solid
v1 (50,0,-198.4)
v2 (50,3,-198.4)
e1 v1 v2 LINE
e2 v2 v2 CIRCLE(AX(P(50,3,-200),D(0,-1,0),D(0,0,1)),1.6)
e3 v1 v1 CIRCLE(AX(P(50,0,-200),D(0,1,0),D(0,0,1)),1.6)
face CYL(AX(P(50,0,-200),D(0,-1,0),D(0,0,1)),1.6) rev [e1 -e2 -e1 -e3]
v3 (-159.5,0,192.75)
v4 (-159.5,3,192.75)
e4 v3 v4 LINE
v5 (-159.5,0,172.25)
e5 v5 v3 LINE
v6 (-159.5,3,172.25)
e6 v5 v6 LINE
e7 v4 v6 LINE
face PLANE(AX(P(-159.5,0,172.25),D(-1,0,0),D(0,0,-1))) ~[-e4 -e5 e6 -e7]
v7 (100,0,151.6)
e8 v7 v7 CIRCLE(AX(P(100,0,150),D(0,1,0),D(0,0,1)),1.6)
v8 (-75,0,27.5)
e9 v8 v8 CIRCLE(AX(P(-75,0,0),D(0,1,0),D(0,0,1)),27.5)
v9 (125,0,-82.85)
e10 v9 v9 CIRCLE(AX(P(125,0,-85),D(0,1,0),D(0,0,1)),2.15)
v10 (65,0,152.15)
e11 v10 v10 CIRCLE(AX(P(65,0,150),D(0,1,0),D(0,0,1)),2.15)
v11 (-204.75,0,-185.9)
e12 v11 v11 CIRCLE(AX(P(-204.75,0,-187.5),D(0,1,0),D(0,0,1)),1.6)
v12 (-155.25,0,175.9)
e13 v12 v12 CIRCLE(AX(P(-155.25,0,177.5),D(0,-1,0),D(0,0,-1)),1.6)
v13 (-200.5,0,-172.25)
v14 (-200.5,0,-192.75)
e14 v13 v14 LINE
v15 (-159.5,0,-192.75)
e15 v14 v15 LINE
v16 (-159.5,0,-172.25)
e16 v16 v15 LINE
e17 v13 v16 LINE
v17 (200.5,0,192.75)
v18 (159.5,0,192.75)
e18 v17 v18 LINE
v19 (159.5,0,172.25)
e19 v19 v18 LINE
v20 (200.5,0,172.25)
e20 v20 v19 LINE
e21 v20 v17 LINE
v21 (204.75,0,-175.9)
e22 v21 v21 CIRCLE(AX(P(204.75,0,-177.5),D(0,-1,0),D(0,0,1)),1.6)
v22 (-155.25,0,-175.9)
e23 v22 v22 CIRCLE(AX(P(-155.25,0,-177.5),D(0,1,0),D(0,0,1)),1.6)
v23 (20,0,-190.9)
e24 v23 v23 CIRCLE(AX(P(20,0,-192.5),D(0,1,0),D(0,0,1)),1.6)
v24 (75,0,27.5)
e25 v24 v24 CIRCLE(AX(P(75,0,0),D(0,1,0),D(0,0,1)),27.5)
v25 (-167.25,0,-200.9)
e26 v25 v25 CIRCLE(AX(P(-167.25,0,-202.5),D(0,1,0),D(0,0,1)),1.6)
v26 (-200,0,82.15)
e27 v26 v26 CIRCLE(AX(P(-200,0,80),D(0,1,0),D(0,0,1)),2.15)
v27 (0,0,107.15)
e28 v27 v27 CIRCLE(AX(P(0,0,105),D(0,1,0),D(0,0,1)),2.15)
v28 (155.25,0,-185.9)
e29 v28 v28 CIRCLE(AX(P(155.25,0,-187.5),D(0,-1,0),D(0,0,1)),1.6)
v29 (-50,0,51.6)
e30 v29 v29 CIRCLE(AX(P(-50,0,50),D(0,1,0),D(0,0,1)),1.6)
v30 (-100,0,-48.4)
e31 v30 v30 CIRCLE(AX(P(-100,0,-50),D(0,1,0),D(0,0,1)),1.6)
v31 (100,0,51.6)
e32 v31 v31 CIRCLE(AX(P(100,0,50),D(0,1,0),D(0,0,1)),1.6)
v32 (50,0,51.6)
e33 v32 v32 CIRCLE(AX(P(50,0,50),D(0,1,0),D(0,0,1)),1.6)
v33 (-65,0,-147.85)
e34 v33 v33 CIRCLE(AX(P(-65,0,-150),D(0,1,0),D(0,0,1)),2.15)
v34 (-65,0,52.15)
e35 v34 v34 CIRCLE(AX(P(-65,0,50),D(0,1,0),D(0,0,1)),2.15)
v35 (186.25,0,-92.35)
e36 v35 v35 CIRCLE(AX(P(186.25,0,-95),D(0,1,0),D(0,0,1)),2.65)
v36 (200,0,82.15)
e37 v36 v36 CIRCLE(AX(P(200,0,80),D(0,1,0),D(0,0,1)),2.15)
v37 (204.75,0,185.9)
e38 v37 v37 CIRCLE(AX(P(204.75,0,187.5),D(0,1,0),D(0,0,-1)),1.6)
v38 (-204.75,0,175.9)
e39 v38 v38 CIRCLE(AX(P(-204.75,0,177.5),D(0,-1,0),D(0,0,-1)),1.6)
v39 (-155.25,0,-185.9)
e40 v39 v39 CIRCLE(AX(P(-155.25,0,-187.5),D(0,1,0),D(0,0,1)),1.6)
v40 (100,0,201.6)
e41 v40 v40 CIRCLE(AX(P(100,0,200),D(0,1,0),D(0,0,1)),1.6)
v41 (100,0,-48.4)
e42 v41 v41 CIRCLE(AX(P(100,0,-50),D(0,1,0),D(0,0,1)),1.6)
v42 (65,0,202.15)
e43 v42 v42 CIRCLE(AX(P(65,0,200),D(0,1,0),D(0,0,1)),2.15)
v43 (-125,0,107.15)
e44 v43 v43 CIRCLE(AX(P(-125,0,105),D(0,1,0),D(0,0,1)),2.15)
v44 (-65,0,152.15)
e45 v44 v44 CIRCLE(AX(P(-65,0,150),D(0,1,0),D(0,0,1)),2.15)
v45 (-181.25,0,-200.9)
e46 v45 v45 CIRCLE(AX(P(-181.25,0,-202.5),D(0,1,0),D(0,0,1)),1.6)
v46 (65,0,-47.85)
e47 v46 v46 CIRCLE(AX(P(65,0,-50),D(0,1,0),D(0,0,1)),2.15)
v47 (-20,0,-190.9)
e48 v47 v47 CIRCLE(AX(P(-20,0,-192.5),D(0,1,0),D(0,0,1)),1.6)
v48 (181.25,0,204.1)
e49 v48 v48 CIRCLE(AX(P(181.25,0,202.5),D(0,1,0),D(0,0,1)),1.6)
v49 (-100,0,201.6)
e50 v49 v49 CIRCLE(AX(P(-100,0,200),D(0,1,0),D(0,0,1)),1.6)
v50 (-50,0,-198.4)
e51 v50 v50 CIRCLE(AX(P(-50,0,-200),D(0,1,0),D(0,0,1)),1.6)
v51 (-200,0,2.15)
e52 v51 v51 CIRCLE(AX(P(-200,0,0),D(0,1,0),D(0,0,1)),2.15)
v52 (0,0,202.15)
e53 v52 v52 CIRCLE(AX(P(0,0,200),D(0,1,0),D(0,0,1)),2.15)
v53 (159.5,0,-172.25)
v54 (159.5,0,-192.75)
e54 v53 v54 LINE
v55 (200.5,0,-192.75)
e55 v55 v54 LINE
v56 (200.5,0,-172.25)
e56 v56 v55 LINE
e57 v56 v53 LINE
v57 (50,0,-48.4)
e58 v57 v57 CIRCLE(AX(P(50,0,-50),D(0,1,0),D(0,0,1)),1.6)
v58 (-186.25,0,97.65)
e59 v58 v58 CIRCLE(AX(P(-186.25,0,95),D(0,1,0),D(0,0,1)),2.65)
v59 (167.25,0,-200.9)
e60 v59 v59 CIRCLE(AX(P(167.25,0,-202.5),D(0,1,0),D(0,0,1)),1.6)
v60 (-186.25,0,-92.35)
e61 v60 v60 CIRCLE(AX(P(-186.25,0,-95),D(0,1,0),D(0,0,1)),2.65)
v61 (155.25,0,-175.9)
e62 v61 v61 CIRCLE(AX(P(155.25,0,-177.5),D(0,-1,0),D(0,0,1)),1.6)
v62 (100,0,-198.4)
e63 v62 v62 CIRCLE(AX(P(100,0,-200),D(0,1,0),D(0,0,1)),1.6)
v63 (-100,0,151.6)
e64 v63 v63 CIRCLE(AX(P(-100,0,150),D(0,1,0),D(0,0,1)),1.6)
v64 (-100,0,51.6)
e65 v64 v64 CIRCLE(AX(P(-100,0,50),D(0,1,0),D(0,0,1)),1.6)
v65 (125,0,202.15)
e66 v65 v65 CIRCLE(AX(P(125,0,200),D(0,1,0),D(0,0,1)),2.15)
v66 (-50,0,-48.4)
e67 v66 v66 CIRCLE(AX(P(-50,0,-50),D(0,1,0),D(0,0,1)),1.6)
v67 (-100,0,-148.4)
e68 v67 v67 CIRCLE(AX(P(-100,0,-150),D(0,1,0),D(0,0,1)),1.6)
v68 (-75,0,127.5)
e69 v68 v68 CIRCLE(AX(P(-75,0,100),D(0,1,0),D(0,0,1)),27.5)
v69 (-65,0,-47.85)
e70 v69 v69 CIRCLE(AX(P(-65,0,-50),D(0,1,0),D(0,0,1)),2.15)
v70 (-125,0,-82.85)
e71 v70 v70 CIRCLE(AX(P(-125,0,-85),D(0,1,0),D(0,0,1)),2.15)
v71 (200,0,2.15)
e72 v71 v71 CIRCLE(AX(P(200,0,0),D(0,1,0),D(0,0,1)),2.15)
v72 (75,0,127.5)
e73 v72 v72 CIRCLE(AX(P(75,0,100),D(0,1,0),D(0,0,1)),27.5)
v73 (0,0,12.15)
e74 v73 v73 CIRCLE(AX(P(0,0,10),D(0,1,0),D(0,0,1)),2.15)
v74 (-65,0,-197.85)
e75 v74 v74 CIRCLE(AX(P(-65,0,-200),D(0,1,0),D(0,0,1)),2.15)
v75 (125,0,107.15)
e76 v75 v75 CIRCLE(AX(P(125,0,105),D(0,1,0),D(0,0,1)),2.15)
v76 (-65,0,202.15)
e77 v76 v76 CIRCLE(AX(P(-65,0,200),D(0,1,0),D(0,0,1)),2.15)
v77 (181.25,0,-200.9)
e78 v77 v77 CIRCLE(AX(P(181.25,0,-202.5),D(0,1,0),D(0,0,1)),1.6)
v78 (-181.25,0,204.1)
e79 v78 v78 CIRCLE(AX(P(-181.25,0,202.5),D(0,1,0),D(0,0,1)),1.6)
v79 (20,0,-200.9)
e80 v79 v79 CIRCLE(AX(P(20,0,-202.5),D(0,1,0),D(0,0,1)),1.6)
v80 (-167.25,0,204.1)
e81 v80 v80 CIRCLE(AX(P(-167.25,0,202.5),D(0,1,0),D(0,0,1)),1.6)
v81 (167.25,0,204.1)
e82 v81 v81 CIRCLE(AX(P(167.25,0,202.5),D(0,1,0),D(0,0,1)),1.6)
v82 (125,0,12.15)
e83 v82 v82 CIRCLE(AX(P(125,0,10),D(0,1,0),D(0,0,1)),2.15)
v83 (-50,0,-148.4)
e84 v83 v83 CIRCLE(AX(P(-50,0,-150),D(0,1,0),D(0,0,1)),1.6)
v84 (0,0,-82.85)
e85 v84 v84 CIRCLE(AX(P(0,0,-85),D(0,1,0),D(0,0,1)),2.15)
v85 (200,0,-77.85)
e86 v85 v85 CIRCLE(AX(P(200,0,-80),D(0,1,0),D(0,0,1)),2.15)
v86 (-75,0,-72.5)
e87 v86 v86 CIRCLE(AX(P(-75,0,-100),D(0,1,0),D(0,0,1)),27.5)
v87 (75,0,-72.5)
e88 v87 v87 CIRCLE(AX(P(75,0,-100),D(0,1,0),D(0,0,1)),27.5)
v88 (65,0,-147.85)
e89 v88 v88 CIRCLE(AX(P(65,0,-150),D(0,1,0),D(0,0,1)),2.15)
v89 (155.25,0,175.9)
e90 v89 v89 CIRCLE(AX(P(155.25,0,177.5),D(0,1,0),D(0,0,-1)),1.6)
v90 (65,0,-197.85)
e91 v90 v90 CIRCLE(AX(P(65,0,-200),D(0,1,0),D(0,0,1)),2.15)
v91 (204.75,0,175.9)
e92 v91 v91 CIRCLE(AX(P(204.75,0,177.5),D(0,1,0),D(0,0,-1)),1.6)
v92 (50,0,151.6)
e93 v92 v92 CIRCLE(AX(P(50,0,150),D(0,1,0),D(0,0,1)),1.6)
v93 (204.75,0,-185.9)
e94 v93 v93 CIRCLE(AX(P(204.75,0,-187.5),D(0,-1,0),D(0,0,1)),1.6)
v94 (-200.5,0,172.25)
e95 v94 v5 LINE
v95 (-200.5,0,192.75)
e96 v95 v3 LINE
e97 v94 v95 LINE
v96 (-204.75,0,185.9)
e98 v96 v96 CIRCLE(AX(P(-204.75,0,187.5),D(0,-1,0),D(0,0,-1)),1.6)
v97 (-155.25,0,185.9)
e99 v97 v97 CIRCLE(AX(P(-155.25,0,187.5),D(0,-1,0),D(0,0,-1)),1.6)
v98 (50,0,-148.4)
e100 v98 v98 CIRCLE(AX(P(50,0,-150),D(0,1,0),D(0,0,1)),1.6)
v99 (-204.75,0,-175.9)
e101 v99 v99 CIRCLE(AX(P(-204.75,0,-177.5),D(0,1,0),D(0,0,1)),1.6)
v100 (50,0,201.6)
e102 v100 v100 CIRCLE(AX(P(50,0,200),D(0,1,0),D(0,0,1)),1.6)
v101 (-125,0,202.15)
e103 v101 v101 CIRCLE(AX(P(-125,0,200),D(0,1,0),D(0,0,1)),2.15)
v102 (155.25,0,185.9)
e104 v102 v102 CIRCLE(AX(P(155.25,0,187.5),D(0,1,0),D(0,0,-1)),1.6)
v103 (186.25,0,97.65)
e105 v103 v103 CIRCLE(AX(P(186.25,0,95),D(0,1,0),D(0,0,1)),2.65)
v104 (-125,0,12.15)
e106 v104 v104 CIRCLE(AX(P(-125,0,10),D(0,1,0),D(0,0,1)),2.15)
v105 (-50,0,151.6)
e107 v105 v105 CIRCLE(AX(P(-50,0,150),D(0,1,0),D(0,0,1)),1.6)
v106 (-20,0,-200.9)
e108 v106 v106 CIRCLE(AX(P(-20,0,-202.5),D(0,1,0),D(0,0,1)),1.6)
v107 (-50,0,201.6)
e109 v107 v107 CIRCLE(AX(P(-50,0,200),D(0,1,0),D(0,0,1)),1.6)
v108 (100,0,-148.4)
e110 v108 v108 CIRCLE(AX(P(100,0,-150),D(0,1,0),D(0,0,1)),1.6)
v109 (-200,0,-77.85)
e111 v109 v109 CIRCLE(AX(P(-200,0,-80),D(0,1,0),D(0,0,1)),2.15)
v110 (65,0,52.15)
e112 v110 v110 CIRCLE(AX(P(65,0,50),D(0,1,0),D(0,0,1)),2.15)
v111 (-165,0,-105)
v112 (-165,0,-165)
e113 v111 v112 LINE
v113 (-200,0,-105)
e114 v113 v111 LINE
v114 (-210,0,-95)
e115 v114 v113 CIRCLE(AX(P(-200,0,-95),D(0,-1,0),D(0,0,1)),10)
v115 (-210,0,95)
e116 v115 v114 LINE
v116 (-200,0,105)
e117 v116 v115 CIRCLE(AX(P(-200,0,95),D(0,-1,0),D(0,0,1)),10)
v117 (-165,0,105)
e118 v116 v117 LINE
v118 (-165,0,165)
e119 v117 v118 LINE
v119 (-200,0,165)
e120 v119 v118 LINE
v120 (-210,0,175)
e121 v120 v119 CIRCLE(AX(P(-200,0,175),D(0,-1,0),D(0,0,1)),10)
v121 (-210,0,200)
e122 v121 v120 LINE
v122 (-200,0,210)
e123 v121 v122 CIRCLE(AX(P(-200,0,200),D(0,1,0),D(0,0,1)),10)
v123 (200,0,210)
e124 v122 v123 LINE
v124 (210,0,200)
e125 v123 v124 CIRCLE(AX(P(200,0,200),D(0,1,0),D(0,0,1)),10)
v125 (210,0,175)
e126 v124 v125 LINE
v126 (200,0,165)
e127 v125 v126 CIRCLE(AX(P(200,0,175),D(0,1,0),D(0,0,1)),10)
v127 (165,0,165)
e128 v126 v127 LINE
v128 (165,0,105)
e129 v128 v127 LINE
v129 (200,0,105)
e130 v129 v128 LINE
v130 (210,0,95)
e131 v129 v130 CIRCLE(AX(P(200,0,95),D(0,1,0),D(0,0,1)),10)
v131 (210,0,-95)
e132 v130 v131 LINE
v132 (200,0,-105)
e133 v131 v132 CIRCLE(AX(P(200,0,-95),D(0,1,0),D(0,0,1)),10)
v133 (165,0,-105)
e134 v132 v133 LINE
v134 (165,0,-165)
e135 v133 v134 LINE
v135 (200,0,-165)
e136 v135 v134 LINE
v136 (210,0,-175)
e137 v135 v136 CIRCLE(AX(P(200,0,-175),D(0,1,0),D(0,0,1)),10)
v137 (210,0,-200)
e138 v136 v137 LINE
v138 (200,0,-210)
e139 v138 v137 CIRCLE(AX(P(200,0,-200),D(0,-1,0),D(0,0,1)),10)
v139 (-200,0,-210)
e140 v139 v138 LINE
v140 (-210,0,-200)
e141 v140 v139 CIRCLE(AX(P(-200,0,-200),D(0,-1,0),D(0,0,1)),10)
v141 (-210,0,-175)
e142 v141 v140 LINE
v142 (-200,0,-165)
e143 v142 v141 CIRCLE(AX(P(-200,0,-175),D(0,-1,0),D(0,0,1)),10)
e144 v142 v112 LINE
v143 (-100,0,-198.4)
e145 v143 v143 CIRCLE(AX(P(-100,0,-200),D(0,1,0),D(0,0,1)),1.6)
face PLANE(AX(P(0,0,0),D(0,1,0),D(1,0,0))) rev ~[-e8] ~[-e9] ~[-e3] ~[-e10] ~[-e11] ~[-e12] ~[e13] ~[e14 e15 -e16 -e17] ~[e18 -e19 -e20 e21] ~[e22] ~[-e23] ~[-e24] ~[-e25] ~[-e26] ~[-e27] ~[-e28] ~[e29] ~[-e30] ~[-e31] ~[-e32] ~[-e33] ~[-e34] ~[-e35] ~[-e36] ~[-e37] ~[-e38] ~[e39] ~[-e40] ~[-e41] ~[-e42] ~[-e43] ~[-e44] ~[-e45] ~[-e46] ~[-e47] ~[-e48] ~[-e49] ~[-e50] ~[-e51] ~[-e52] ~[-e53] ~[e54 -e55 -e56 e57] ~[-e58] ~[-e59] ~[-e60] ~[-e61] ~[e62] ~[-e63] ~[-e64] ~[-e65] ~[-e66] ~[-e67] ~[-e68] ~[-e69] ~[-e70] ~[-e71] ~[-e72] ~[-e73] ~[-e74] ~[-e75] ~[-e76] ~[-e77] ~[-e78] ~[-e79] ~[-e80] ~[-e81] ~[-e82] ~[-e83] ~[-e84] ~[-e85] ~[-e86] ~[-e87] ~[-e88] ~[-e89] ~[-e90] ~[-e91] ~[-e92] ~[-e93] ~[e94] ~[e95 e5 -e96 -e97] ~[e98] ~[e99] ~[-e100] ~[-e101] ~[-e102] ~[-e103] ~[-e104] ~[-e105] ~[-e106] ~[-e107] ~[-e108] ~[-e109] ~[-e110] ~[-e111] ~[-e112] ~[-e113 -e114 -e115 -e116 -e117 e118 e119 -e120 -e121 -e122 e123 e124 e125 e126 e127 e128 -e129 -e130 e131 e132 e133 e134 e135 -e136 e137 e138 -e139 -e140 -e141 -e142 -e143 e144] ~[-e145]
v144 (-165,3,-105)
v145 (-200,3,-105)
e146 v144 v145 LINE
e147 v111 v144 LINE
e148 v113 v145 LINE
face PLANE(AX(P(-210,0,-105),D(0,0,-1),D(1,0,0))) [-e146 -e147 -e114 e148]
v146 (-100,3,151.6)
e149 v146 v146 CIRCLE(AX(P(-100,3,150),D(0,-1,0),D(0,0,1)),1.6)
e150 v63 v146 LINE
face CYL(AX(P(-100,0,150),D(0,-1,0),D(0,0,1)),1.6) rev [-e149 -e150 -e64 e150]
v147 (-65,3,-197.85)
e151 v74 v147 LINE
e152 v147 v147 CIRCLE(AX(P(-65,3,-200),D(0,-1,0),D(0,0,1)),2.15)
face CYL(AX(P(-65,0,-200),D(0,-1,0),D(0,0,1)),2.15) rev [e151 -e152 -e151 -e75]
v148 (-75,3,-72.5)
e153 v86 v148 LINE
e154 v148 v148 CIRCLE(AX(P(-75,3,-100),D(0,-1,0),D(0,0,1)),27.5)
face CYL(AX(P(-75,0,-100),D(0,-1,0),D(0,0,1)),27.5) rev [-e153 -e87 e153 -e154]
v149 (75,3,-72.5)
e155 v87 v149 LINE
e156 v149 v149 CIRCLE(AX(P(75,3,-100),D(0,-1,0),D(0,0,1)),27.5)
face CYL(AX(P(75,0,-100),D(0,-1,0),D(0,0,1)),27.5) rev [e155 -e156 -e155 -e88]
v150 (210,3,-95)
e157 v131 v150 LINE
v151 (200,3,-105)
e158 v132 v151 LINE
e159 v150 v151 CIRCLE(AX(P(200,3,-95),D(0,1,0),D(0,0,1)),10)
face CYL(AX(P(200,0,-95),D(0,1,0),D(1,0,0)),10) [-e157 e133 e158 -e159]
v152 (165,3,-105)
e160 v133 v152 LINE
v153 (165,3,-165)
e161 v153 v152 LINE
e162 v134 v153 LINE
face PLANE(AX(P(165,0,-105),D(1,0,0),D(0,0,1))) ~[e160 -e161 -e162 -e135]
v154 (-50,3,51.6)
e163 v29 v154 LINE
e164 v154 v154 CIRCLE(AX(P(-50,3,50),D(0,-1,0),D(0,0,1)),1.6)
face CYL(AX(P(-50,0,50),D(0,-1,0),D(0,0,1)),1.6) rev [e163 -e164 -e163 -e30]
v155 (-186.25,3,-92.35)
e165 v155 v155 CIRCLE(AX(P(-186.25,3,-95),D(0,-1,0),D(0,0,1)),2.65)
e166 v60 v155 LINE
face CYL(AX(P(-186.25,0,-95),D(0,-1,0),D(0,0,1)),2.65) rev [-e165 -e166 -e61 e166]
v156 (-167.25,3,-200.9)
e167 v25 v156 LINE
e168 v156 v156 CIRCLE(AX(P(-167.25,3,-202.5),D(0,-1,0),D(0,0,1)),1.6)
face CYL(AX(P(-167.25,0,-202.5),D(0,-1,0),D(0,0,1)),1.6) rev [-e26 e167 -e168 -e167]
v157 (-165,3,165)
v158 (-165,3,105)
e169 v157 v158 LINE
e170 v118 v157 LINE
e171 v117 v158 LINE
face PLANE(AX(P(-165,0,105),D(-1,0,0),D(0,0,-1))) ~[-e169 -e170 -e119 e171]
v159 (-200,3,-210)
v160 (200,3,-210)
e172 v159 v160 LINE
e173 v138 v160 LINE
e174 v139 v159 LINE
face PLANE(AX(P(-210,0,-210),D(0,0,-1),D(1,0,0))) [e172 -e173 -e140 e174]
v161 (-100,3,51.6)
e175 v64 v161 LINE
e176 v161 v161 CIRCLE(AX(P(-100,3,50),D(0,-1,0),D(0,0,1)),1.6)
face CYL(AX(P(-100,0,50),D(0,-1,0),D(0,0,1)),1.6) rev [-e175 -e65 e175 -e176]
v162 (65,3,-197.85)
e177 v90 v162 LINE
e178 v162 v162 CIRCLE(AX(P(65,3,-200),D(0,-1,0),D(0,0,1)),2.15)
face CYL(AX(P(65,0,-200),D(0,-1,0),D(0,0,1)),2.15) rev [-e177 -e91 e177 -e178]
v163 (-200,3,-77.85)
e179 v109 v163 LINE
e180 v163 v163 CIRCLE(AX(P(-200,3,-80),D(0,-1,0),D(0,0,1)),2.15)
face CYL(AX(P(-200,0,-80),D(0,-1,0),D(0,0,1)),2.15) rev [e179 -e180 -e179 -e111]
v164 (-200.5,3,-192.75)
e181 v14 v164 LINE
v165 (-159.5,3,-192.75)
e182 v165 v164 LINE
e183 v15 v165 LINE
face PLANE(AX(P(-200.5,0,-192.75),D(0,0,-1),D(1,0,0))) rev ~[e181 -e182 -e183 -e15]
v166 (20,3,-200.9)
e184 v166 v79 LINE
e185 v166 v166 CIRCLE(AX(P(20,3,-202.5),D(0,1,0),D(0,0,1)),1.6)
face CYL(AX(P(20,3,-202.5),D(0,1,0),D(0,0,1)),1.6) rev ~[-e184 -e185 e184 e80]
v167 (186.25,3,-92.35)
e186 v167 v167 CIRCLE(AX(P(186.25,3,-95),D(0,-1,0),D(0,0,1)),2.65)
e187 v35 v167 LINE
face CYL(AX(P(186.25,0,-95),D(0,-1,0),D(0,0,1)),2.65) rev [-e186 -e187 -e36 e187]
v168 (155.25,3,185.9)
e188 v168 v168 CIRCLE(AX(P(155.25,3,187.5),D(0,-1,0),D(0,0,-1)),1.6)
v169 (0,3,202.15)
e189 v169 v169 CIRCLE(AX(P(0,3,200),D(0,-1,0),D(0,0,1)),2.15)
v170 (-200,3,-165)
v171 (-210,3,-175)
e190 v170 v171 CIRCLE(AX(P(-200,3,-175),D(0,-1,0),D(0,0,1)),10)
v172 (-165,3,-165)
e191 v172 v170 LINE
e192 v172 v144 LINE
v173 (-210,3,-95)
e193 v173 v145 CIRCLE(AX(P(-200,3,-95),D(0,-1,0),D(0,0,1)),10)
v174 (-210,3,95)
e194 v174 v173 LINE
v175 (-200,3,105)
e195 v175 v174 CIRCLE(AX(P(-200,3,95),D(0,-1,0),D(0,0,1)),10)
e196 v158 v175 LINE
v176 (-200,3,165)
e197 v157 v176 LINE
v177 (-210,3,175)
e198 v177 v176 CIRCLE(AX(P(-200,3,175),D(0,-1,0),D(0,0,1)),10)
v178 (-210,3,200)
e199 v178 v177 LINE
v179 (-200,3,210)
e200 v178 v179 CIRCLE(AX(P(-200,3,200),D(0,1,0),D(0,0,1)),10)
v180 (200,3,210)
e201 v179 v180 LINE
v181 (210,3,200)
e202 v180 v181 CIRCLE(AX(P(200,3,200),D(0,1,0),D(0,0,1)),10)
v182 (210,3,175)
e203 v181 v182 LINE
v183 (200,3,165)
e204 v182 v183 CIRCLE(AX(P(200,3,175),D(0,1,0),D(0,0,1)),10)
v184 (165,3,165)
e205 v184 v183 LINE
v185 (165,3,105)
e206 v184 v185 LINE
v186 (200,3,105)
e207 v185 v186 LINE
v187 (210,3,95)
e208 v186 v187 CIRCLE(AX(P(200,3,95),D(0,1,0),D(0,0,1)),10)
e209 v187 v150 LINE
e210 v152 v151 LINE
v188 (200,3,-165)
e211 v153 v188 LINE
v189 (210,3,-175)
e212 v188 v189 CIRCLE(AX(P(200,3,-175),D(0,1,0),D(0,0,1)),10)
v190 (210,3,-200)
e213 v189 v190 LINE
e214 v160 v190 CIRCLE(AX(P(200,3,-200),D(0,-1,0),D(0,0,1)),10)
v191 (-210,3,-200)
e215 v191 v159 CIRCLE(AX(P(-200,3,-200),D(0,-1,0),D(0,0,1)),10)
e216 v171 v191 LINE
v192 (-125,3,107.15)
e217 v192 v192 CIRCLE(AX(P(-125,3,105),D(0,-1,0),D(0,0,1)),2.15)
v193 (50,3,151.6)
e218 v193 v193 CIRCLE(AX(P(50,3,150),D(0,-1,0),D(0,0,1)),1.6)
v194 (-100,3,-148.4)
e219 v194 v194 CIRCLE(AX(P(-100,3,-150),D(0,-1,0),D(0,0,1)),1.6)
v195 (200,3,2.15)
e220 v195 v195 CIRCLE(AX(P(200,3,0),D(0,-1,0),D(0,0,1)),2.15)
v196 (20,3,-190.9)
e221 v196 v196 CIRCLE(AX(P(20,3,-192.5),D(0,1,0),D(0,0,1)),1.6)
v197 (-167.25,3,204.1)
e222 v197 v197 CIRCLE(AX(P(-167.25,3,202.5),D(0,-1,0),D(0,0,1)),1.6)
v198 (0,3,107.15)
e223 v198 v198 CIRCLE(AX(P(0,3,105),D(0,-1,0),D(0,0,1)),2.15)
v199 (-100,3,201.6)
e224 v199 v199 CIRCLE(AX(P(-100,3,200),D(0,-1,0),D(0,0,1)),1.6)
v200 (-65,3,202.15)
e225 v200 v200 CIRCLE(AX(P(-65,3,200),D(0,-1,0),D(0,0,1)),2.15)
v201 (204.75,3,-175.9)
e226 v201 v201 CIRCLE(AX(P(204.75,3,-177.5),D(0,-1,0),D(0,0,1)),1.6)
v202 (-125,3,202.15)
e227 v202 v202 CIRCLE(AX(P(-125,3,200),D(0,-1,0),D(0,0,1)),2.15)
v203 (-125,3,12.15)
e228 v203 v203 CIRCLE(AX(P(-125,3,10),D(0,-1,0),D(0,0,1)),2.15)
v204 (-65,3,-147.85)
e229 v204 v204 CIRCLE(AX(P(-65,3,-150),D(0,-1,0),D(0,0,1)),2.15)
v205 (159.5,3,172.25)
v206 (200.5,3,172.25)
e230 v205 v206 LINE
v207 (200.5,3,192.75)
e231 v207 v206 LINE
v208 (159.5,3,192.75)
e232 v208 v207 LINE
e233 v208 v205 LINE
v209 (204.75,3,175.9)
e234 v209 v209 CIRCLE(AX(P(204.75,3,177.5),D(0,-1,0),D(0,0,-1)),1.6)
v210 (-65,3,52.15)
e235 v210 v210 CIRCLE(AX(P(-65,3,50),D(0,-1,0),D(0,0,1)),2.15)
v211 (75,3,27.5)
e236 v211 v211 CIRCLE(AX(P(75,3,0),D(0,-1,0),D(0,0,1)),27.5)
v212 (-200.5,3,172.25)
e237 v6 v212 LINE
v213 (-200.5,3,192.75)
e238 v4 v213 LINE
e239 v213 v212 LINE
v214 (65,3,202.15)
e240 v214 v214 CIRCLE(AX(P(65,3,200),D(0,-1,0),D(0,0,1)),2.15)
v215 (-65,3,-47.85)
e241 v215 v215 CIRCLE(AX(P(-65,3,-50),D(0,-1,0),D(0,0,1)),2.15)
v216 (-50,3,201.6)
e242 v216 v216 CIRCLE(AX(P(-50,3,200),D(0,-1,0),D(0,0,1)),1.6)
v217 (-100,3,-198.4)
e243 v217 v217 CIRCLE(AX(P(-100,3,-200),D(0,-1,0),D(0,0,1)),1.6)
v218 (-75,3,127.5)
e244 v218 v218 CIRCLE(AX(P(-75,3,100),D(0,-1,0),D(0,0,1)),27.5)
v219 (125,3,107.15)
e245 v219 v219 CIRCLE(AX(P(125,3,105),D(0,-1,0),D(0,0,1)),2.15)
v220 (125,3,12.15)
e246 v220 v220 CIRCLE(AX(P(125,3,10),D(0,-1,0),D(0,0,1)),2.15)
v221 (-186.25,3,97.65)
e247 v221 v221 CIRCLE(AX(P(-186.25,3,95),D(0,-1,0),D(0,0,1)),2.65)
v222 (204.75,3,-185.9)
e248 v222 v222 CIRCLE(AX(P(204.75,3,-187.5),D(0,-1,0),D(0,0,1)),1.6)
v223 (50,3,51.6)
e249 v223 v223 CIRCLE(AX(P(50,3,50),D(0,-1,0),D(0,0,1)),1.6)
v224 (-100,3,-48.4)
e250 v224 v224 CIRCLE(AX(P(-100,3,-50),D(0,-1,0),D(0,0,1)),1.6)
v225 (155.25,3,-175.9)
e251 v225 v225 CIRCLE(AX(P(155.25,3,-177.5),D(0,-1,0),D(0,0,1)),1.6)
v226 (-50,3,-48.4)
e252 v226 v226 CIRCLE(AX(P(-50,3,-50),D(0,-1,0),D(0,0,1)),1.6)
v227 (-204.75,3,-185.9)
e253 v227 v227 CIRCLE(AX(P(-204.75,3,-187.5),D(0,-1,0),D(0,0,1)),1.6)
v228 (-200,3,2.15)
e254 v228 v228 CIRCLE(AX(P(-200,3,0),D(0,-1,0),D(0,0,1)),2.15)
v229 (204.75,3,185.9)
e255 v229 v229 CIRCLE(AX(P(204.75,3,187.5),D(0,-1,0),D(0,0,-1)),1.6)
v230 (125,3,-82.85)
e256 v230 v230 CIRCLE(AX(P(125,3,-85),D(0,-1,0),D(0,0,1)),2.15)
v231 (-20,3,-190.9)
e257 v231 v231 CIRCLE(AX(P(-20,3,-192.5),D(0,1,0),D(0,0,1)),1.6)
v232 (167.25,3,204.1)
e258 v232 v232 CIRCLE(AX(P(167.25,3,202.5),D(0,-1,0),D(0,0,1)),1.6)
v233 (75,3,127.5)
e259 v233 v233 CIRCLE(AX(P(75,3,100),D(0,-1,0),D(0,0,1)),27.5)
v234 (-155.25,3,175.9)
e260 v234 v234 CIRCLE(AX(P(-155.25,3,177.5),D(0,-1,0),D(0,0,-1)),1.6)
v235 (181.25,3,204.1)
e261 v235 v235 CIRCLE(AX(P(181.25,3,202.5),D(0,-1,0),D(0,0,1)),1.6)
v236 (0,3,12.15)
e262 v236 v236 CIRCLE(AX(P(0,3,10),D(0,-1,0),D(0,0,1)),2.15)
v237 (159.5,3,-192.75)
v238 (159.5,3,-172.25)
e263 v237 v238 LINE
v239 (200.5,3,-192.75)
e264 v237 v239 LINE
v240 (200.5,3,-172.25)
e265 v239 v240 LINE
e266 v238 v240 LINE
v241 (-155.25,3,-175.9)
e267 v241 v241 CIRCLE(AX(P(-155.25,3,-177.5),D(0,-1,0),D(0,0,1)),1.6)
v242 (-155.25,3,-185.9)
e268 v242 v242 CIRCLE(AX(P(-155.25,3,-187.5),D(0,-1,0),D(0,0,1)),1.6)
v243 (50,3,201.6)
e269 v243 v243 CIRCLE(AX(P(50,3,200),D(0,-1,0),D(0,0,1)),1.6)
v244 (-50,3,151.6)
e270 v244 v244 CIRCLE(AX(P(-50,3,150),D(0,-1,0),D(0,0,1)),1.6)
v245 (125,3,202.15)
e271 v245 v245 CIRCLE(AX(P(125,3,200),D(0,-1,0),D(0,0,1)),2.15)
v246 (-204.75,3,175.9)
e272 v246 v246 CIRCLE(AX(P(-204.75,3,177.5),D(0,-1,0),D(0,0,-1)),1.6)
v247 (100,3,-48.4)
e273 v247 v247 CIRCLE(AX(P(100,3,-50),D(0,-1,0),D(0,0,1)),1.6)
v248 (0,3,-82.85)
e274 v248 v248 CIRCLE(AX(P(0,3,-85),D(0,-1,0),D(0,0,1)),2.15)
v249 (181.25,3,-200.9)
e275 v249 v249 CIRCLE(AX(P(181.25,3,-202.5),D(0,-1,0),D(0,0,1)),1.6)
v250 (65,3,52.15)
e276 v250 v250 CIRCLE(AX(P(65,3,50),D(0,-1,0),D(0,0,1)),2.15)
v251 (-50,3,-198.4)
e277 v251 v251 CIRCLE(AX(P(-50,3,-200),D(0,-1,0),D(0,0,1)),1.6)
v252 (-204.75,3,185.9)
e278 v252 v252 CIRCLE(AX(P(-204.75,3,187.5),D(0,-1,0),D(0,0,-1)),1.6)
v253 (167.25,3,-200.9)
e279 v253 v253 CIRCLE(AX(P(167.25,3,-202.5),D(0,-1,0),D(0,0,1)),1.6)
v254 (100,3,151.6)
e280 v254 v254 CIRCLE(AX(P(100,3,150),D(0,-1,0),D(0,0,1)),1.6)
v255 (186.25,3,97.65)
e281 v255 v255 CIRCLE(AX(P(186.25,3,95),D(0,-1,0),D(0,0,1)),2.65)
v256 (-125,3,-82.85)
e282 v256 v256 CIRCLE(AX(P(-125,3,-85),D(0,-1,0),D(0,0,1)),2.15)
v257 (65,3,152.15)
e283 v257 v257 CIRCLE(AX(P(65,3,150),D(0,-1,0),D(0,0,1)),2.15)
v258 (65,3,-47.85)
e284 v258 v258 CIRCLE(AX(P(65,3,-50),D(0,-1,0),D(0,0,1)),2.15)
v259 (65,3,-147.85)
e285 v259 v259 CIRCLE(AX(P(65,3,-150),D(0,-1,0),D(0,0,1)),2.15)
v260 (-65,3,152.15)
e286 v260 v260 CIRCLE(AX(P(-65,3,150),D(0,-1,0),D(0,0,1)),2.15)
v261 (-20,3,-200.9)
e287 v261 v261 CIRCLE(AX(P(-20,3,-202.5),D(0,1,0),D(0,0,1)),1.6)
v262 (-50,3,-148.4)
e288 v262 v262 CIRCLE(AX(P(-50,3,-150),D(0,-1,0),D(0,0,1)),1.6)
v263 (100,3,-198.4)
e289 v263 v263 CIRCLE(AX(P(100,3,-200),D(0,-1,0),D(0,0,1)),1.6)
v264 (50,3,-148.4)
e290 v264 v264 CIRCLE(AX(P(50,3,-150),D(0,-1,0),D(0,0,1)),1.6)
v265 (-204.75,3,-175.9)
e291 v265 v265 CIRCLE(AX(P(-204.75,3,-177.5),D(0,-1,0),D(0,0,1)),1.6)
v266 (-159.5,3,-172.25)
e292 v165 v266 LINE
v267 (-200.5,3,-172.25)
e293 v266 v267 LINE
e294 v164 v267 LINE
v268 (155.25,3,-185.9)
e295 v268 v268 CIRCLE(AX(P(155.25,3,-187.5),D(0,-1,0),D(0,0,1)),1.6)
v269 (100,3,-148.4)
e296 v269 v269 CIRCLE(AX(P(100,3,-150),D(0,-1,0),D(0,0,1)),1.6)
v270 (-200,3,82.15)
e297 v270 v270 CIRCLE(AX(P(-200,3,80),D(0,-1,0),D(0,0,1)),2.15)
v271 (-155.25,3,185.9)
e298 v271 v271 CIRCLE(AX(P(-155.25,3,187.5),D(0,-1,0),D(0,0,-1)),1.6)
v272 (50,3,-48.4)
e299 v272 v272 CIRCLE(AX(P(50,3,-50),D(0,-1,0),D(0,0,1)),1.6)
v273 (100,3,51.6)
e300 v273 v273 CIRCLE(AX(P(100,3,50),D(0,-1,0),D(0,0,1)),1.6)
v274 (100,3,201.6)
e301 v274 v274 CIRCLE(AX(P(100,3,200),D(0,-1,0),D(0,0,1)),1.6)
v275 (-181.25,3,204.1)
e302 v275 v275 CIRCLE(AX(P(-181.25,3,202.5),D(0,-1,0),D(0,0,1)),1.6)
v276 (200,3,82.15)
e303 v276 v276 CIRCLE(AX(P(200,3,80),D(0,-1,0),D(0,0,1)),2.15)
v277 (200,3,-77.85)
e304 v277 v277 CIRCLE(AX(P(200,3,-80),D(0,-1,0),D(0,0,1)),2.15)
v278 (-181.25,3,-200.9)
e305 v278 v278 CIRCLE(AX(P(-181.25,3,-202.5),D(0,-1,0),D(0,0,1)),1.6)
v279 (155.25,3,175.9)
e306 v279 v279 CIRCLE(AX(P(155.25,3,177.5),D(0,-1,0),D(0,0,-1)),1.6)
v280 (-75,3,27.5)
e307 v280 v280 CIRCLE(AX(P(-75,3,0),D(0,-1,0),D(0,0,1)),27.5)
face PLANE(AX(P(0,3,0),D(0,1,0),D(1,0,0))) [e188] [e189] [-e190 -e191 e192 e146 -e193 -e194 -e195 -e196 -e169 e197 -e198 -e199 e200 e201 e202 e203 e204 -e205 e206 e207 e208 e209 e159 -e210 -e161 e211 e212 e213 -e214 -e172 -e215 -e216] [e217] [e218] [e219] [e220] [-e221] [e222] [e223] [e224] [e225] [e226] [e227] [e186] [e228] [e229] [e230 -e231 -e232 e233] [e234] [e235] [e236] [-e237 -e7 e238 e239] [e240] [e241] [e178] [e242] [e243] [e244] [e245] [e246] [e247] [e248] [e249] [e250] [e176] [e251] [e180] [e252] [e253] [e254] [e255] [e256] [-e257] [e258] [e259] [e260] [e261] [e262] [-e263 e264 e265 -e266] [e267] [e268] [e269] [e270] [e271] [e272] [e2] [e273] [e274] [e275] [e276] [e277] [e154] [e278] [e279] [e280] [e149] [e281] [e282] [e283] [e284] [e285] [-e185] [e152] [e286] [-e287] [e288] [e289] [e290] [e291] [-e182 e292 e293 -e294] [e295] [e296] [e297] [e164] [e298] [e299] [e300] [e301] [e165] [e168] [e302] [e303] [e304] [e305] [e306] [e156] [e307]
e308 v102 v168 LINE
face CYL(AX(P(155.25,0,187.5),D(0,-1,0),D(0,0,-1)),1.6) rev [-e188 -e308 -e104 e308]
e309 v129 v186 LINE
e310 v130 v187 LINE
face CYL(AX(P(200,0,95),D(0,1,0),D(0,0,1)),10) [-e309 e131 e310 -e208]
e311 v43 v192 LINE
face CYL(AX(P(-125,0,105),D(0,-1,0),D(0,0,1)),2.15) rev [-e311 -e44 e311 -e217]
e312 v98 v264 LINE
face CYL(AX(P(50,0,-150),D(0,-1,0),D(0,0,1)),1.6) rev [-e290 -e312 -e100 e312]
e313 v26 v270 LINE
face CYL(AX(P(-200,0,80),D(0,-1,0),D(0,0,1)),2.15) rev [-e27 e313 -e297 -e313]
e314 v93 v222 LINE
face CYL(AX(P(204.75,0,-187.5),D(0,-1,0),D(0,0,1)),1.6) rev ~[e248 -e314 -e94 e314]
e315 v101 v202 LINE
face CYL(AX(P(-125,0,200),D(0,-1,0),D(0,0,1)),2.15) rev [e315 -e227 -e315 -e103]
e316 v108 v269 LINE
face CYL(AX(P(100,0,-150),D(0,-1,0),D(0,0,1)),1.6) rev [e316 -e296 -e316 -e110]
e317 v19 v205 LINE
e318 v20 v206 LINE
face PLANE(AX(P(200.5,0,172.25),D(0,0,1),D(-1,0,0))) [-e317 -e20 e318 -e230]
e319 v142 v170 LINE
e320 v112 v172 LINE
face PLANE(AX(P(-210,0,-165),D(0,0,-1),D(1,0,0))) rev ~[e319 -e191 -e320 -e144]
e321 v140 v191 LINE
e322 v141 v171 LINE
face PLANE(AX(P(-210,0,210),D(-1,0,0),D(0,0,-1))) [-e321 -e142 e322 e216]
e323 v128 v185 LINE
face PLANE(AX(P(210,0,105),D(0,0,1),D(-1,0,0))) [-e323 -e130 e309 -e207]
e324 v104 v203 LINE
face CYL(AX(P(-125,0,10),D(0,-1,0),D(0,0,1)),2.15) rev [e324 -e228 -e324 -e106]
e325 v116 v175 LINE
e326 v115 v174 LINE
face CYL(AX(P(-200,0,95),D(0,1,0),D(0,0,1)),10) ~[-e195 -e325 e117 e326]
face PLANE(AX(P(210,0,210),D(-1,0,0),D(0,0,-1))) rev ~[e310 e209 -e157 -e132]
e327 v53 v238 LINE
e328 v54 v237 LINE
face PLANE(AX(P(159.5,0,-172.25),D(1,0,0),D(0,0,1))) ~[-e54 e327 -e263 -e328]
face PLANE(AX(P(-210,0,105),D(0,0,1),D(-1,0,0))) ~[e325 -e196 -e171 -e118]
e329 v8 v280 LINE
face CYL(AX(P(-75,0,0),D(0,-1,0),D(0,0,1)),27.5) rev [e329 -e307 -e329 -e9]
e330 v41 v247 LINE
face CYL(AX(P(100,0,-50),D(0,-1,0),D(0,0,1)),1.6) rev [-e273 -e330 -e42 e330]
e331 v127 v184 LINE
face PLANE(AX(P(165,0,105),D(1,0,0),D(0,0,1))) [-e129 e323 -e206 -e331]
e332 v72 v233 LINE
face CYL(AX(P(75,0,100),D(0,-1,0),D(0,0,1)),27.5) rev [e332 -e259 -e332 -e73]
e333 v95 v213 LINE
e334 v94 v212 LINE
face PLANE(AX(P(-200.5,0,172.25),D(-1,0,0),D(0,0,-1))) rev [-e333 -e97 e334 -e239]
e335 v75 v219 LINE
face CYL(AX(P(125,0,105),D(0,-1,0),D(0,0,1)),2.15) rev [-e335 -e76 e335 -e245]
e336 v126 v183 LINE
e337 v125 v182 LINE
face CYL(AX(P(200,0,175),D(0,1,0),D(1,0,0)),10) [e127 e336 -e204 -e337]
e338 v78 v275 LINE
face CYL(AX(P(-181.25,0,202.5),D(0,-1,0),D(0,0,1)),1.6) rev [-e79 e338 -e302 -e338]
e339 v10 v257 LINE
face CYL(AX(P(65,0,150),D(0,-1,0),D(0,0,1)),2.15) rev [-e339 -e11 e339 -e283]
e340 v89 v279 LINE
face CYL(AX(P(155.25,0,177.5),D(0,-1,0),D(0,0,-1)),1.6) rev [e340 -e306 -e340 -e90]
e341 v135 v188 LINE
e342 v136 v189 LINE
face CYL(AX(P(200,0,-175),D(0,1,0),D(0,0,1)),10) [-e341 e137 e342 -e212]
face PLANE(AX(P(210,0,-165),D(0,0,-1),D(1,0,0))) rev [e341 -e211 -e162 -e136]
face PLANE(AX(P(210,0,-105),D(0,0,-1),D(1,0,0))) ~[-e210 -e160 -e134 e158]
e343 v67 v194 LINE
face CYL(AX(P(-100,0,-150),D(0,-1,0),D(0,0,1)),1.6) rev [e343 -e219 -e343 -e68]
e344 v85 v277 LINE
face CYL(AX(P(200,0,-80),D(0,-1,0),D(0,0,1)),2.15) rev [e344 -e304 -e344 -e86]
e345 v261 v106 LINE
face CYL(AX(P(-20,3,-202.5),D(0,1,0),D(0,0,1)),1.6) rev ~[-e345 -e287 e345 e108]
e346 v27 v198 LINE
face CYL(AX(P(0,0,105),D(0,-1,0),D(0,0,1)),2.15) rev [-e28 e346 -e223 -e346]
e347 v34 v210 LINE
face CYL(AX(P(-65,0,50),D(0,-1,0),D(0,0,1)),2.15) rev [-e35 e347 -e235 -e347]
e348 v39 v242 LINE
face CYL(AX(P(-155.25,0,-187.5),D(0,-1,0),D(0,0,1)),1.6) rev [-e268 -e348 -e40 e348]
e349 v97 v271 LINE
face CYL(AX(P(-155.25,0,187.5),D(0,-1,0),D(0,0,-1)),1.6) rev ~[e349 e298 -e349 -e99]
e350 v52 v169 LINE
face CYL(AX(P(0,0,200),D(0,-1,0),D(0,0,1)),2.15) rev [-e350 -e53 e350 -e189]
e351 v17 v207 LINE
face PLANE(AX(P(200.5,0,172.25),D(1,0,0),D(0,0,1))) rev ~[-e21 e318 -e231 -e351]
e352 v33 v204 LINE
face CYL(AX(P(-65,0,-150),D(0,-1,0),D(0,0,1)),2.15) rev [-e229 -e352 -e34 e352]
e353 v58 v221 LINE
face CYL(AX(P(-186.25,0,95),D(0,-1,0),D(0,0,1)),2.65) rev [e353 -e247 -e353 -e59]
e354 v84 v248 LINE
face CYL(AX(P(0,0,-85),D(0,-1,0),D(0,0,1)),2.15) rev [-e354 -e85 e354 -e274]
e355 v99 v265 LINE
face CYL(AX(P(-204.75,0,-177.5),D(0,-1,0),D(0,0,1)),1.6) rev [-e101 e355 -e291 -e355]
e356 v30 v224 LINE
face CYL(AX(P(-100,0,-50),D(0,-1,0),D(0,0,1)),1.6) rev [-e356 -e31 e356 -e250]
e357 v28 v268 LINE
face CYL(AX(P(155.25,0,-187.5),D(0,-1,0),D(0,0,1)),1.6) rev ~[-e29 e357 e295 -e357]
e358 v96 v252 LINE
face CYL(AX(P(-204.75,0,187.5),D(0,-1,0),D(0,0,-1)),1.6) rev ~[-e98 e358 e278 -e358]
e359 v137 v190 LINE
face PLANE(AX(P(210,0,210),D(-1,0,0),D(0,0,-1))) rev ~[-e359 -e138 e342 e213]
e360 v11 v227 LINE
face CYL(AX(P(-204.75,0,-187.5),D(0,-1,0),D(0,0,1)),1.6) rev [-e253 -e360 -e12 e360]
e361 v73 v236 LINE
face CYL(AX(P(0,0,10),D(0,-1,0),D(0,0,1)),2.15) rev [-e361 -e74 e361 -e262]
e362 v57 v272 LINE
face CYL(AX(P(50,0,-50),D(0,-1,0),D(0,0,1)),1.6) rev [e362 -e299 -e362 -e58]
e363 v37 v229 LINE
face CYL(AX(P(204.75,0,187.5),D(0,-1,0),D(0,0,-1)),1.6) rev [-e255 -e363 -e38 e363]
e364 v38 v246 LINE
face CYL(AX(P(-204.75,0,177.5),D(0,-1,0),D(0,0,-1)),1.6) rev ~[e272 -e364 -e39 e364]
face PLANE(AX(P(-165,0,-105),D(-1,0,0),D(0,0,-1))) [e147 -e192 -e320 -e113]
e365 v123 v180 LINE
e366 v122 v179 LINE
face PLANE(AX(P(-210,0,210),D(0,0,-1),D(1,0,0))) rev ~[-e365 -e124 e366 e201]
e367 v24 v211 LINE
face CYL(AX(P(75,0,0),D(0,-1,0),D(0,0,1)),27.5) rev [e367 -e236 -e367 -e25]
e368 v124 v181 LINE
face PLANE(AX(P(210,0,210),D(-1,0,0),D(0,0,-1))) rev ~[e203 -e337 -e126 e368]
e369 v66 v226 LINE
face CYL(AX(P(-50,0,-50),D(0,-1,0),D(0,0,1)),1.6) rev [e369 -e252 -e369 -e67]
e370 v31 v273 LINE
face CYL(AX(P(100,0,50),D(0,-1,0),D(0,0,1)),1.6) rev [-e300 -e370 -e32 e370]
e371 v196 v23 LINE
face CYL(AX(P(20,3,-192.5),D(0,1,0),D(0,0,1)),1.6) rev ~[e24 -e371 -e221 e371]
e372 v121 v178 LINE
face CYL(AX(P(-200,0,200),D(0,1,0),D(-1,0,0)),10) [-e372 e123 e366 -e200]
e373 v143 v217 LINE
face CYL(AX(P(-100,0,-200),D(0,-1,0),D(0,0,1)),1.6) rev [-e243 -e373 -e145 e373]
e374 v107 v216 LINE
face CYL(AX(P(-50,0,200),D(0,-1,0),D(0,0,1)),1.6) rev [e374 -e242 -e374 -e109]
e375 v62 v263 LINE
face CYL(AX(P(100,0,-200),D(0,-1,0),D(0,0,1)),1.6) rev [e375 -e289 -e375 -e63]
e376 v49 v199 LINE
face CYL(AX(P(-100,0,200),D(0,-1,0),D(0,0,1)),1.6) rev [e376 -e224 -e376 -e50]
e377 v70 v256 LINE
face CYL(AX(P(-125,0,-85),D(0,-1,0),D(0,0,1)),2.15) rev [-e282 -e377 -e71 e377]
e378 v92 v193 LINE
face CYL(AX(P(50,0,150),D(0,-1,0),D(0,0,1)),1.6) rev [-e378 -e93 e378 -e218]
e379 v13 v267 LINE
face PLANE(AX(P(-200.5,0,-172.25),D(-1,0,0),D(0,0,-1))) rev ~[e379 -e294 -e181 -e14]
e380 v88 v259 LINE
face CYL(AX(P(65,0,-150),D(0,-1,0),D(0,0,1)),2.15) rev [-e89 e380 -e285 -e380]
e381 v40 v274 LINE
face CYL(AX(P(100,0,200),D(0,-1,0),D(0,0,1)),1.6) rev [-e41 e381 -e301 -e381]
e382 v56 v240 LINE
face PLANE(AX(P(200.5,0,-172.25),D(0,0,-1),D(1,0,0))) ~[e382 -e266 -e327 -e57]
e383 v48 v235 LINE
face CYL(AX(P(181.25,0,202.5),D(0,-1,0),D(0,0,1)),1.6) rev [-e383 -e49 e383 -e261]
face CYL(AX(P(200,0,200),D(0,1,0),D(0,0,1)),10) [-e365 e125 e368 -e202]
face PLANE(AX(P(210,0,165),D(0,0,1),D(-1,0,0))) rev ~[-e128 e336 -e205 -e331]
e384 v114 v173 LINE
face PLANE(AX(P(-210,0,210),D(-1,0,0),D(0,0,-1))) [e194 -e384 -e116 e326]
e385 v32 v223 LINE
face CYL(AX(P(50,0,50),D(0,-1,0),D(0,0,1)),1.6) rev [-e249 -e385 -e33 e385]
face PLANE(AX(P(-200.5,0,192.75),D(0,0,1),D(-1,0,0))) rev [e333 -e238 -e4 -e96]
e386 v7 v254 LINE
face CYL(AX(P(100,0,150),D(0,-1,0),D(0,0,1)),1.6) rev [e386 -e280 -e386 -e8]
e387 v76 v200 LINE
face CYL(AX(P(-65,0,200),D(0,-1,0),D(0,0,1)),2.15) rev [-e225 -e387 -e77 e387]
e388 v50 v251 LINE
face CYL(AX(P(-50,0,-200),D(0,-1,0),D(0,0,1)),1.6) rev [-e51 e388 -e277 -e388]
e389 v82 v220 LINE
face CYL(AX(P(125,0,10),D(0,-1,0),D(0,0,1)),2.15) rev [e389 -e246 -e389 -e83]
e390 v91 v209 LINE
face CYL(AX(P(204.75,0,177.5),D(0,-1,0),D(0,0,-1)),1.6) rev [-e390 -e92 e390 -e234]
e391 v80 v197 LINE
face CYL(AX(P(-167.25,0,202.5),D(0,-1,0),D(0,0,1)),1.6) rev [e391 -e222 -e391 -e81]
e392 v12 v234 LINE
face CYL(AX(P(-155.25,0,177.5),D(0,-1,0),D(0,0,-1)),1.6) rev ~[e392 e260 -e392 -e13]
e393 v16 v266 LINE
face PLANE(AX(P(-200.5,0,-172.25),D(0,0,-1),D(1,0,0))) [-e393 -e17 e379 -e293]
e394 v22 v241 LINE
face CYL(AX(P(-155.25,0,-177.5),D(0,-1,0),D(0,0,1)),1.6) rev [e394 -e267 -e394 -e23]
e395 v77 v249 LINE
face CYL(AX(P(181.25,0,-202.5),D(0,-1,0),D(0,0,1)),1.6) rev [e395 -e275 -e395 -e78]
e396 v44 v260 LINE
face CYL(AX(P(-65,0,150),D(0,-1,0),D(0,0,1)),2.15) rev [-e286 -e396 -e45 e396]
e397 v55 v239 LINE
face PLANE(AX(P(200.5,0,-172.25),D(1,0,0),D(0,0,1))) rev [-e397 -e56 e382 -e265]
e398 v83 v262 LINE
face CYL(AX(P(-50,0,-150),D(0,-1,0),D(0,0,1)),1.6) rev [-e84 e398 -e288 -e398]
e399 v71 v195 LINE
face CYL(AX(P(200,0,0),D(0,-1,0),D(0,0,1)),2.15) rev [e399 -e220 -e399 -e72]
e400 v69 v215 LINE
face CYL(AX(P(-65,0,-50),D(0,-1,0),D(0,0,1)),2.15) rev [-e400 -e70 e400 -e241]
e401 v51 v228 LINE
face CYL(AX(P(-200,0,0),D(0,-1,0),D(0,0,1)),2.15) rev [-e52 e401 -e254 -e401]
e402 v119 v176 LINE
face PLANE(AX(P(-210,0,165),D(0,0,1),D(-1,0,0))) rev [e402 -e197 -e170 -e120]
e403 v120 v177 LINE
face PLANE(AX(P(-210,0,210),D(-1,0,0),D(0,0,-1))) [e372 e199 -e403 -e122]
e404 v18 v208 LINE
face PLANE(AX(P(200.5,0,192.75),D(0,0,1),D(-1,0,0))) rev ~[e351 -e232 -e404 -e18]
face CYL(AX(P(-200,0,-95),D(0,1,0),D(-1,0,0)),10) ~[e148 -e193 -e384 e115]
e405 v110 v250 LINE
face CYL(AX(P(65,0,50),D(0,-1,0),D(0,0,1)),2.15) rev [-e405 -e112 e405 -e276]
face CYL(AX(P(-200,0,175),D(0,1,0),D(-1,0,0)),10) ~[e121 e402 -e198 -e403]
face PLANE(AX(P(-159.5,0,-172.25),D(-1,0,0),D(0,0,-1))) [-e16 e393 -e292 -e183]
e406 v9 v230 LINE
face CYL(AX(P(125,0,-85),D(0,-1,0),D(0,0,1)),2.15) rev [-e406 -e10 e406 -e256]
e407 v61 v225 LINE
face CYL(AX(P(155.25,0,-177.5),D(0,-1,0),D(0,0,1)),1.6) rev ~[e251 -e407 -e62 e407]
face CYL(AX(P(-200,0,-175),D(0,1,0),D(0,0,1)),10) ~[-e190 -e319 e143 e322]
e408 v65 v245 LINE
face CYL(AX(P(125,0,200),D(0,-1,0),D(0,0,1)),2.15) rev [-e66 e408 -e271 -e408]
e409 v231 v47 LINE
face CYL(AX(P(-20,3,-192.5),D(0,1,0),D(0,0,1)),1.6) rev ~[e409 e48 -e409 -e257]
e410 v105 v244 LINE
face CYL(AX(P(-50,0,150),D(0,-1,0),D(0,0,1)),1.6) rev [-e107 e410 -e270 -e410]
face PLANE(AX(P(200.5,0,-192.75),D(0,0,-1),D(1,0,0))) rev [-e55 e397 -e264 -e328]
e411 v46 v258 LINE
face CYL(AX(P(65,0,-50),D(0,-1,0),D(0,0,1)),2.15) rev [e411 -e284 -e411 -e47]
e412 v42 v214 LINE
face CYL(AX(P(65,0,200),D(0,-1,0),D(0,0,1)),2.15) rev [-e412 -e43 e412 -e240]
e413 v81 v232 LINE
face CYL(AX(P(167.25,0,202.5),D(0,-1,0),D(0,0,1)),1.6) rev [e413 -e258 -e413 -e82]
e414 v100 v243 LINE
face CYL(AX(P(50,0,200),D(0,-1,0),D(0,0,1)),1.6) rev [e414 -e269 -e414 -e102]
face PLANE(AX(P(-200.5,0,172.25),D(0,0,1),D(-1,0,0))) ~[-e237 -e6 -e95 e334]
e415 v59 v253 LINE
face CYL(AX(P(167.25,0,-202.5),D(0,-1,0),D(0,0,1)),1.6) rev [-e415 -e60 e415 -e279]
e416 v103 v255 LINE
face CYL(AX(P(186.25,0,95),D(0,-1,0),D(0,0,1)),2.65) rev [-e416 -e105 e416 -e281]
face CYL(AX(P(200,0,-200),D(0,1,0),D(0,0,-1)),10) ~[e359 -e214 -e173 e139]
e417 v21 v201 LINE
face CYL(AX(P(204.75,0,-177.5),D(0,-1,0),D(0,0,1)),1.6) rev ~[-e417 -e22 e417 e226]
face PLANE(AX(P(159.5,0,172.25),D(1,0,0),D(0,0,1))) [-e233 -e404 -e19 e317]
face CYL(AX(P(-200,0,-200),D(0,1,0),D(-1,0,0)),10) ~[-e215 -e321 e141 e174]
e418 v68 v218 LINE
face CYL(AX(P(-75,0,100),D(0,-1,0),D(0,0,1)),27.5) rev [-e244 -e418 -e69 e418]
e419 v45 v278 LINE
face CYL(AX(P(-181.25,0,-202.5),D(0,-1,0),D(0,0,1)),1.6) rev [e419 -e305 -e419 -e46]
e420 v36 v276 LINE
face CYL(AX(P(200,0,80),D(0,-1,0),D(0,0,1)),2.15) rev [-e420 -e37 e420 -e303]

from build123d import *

# Parameters (mm, degrees)
SKETCH_2_W                                   = 420
SKETCH_2_H                                   = 420
EXTRUDE_1_DEPTH                              = 3
SKETCH_3_R                                   = 1.6
SKETCH_3_W                                   = 41
SKETCH_3_H                                   = 20.5
SKETCH_3_W_2                                 = 45
SKETCH_3_H_2                                 = 60
CUT_EXTRUDE_1_DEPTH                          = 298
MIRROR_2_AT_THE_SECOND_PLANE_COPY_1_SKET_R   = 1.6
MIRROR_2_AT_THE_SECOND_PLANE_COPY_1_SKET_W   = 41
MIRROR_2_AT_THE_SECOND_PLANE_COPY_1_SKET_H   = 20.5
MIRROR_2_AT_THE_SECOND_PLANE_COPY_1_SKET_W_2 = 45
MIRROR_2_AT_THE_SECOND_PLANE_COPY_1_SKET_H_2 = 60
MIRROR_2_AT_THE_SECOND_PLANE_COPY_1_DEPTH    = 298
SKETCH_7_R                                   = 2.65
CUT_EXTRUDE_5_DEPTH                          = 298
SKETCH_5_R                                   = 2.15
CUT_EXTRUDE_8_DEPTH                          = 298
PATTERN_LINEAR_4_COUNT                       = 5
PATTERN_LINEAR_4_PITCH                       = 50
PATTERN_LINEAR_4_COL_COUNT                   = 5
PATTERN_LINEAR_4_COL_PITCH                   = 50
SKETCH_6_R                                   = 2.15
CUT_EXTRUDE_9_DEPTH                          = 298
PATTERN_LINEAR_5_COUNT                       = 4
PATTERN_LINEAR_5_PITCH                       = 95
SKETCH_9_R                                   = 1.6
CUT_EXTRUDE_7_DEPTH                          = 298
PATTERN_LINEAR_3_COUNT                       = 9
PATTERN_LINEAR_3_PITCH                       = 50
SKETCH_10_R                                  = 27.5
CUT_EXTRUDE_10_DEPTH                         = 298
SKETCH_8_R                                   = 2.15
SKETCH_8_R_2                                 = 1.6
CUT_EXTRUDE_6_DEPTH                          = 298
FILLET_1_R                                   = 10
SKETCH_11_R                                  = 1.6
CUT_EXTRUDE_11_DEPTH                         = 5


with BuildPart() as part:
    # 草图2 → 凸台-拉伸1 (new body)
    with BuildSketch(Plane(origin=(0, 0, 0), x_dir=(1, 0, 0), z_dir=(0, 1, 0))):
        Rectangle(SKETCH_2_W, SKETCH_2_H)
    extrude(amount=EXTRUDE_1_DEPTH)

    # 草图3 → 切除-拉伸1 (cut, through all)
    with BuildSketch(Plane(origin=(0, 0, 0), x_dir=(1, 0, 0), z_dir=(0, 1, 0))):
        with Locations(Location((-204.75, 187.5, 0), (0, 0, 270))):
            Circle(SKETCH_3_R)
        with Locations(Location((-204.75, 177.5, 0), (0, 0, 270))):
            Circle(SKETCH_3_R)
        with Locations(Location((-155.25, 187.5, 0), (0, 0, 270))):
            Circle(SKETCH_3_R)
        with Locations(Location((-155.25, 177.5, 0), (0, 0, 270))):
            Circle(SKETCH_3_R)
        with Locations((-180, 182.5)):
            Rectangle(SKETCH_3_W, SKETCH_3_H)
        with Locations((-187.5, 135)):
            Rectangle(SKETCH_3_W_2, SKETCH_3_H_2)
    cut_extrude_1 = extrude(amount=CUT_EXTRUDE_1_DEPTH, mode=Mode.SUBTRACT)

    # 镜向2: 切除-拉伸1 across plane
    add(cut_extrude_1.mirror(Plane(origin=(0, 0, 0), x_dir=(0, 0, 1), z_dir=(1, 0, 0))), mode=Mode.SUBTRACT)

    # 镜向2 at the second plane: 切除-拉伸1 across plane
    add(cut_extrude_1.mirror(Plane.XY), mode=Mode.SUBTRACT)

    # 镜向2 at the second plane copy 1 sket → 镜向2 at the second plane copy 1 (cut, through all)
    with BuildSketch(Plane(origin=(0, 0, 0), x_dir=(-1, 0, 0), z_dir=(0, 1, 0))):
        with Locations(Location((-204.75, 187.5, 0), (0, 0, 270))):
            Circle(MIRROR_2_AT_THE_SECOND_PLANE_COPY_1_SKET_R)
        with Locations(Location((-204.75, 177.5, 0), (0, 0, 270))):
            Circle(MIRROR_2_AT_THE_SECOND_PLANE_COPY_1_SKET_R)
        with Locations(Location((-155.25, 187.5, 0), (0, 0, 270))):
            Circle(MIRROR_2_AT_THE_SECOND_PLANE_COPY_1_SKET_R)
        with Locations(Location((-155.25, 177.5, 0), (0, 0, 270))):
            Circle(MIRROR_2_AT_THE_SECOND_PLANE_COPY_1_SKET_R)
        with Locations((-180, 182.5)):
            Rectangle(MIRROR_2_AT_THE_SECOND_PLANE_COPY_1_SKET_W, MIRROR_2_AT_THE_SECOND_PLANE_COPY_1_SKET_H)
        with Locations((-187.5, 135)):
            Rectangle(MIRROR_2_AT_THE_SECOND_PLANE_COPY_1_SKET_W_2, MIRROR_2_AT_THE_SECOND_PLANE_COPY_1_SKET_H_2)
    extrude(amount=MIRROR_2_AT_THE_SECOND_PLANE_COPY_1_DEPTH, mode=Mode.SUBTRACT)

    # 草图7 → 切除-拉伸5 (cut, through all)
    with BuildSketch(Plane(origin=(0, 0, 0), x_dir=(1, 0, 0), z_dir=(0, 1, 0))):
        with Locations(Location((-186.25, 95, 0), (0, 0, 270))):
            Circle(SKETCH_7_R)
        with Locations(Location((-186.25, -95, 0), (0, 0, 270))):
            Circle(SKETCH_7_R)
        with Locations(Location((186.25, -95, 0), (0, 0, 270))):
            Circle(SKETCH_7_R)
        with Locations(Location((186.25, 95, 0), (0, 0, 270))):
            Circle(SKETCH_7_R)
    extrude(amount=CUT_EXTRUDE_5_DEPTH, mode=Mode.SUBTRACT)

    # 草图5 → 切除-拉伸8 (cut, through all)
    with BuildSketch(Plane(origin=(0, 0, 0), x_dir=(1, 0, 0), z_dir=(0, 1, 0))):
        with Locations(Location((-65, 0, 0), (0, 0, 270))):
            Circle(SKETCH_5_R)
        with Locations(Location((65, 0, 0), (0, 0, 270))):
            Circle(SKETCH_5_R)
    cut_extrude_8 = extrude(amount=CUT_EXTRUDE_8_DEPTH, mode=Mode.SUBTRACT)

    # 阵列(线性)4: 切除-拉伸8 ×5
    with Locations(*[(0, 0, i * PATTERN_LINEAR_4_PITCH) for i in range(1, PATTERN_LINEAR_4_COUNT)]):
        add(cut_extrude_8, mode=Mode.SUBTRACT)

    # 阵列(线性)4 col: 切除-拉伸8 ×5
    with Locations(*[(0, 0, -i * PATTERN_LINEAR_4_COL_PITCH) for i in range(1, PATTERN_LINEAR_4_COL_COUNT)]):
        add(cut_extrude_8, mode=Mode.SUBTRACT)

    # 草图6 → 切除-拉伸9 (cut, through all)
    with BuildSketch(Plane(origin=(0, 0, 0), x_dir=(1, 0, 0), z_dir=(0, 1, 0))):
        with Locations(Location((-125, -200, 0), (0, 0, 270))):
            Circle(SKETCH_6_R)
        with Locations(Location((125, -200, 0), (0, 0, 270))):
            Circle(SKETCH_6_R)
        with Locations(Location((0, -200, 0), (0, 0, 270))):
            Circle(SKETCH_6_R)
    cut_extrude_9 = extrude(amount=CUT_EXTRUDE_9_DEPTH, mode=Mode.SUBTRACT)

    # 阵列(线性)5: 切除-拉伸9 ×4
    with Locations(*[(0, 0, -i * PATTERN_LINEAR_5_PITCH) for i in range(1, PATTERN_LINEAR_5_COUNT)]):
        add(cut_extrude_9, mode=Mode.SUBTRACT)

    # 草图9 → 切除-拉伸7 (cut, through all)
    with BuildSketch(Plane(origin=(0, 0, 0), x_dir=(1, 0, 0), z_dir=(0, 1, 0))):
        with Locations(Location((-100, -200, 0), (0, 0, 270))):
            Circle(SKETCH_9_R)
        with Locations(Location((-50, -200, 0), (0, 0, 270))):
            Circle(SKETCH_9_R)
        with Locations(Location((50, -200, 0), (0, 0, 270))):
            Circle(SKETCH_9_R)
        with Locations(Location((100, -200, 0), (0, 0, 270))):
            Circle(SKETCH_9_R)
    cut_extrude_7 = extrude(amount=CUT_EXTRUDE_7_DEPTH, mode=Mode.SUBTRACT)

    # 阵列(线性)3: 切除-拉伸7 ×9
    with Locations(*[(0, 0, -i * PATTERN_LINEAR_3_PITCH) for i in range(1, PATTERN_LINEAR_3_COUNT)]):
        add(cut_extrude_7, mode=Mode.SUBTRACT)

    # 草图10 → 切除-拉伸10 (cut, through all)
    with BuildSketch(Plane(origin=(0, 0, 0), x_dir=(1, 0, 0), z_dir=(0, 1, 0))):
        with Locations(Location((-75, 100, 0), (0, 0, 270))):
            Circle(SKETCH_10_R)
        with Locations(Location((75, 100, 0), (0, 0, 270))):
            Circle(SKETCH_10_R)
        with Locations(Location((75, 0, 0), (0, 0, 270))):
            Circle(SKETCH_10_R)
        with Locations(Location((-75, 0, 0), (0, 0, 270))):
            Circle(SKETCH_10_R)
        with Locations(Location((-75, -100, 0), (0, 0, 270))):
            Circle(SKETCH_10_R)
        with Locations(Location((75, -100, 0), (0, 0, 270))):
            Circle(SKETCH_10_R)
    extrude(amount=CUT_EXTRUDE_10_DEPTH, mode=Mode.SUBTRACT)

    # 草图8 → 切除-拉伸6 (cut, through all)
    with BuildSketch(Plane(origin=(0, 0, 0), x_dir=(1, 0, 0), z_dir=(0, 1, 0))):
        with Locations(Location((-200, 80, 0), (0, 0, 270))):
            Circle(SKETCH_8_R)
        with Locations(Location((-200, -80, 0), (0, 0, 270))):
            Circle(SKETCH_8_R)
        with Locations(Location((-200, 0, 0), (0, 0, 270))):
            Circle(SKETCH_8_R)
        with Locations(Location((200, 0, 0), (0, 0, 270))):
            Circle(SKETCH_8_R)
        with Locations(Location((200, 80, 0), (0, 0, 270))):
            Circle(SKETCH_8_R)
        with Locations(Location((200, -80, 0), (0, 0, 270))):
            Circle(SKETCH_8_R)
        with Locations(Location((-167.25, 202.5, 0), (0, 0, 270))):
            Circle(SKETCH_8_R_2)
        with Locations(Location((-181.25, 202.5, 0), (0, 0, 270))):
            Circle(SKETCH_8_R_2)
        with Locations(Location((181.25, 202.5, 0), (0, 0, 270))):
            Circle(SKETCH_8_R_2)
        with Locations(Location((181.25, -202.5, 0), (0, 0, 270))):
            Circle(SKETCH_8_R_2)
        with Locations(Location((-181.25, -202.5, 0), (0, 0, 270))):
            Circle(SKETCH_8_R_2)
        with Locations(Location((167.25, 202.5, 0), (0, 0, 270))):
            Circle(SKETCH_8_R_2)
        with Locations(Location((-167.25, -202.5, 0), (0, 0, 270))):
            Circle(SKETCH_8_R_2)
        with Locations(Location((167.25, -202.5, 0), (0, 0, 270))):
            Circle(SKETCH_8_R_2)
    extrude(amount=CUT_EXTRUDE_6_DEPTH, mode=Mode.SUBTRACT)

    # 圆角1
    fillet_1_edges = [part.edges().sort_by_distance(p)[0] for p in [
        (210, 1.5, -105),
        (210, 1.5, -165),
        (210, 1.5, 165),
        (210, 1.5, 105),
        (-210, 1.5, -165),
        (-210, 1.5, -105),
        (-210, 1.5, 105),
        (-210, 1.5, 165),
        (-210, 1.5, -210),
        (210, 1.5, -210),
        (210, 1.5, 210),
        (-210, 1.5, 210),
    ]]
    fillet(fillet_1_edges, radius=FILLET_1_R)

    # 草图11 → 切除-拉伸11 (cut)
    with BuildSketch(Plane(origin=(0, 3, 0), x_dir=(1, 0, 0), z_dir=(0, 1, 0))):
        with Locations(Location((-20, 202.5, 0), (0, 0, 270))):
            Circle(SKETCH_11_R)
        with Locations(Location((20, 202.5, 0), (0, 0, 270))):
            Circle(SKETCH_11_R)
        with Locations(Location((-20, 192.5, 0), (0, 0, 270))):
            Circle(SKETCH_11_R)
        with Locations(Location((20, 192.5, 0), (0, 0, 270))):
            Circle(SKETCH_11_R)
    extrude(amount=-CUT_EXTRUDE_11_DEPTH, mode=Mode.SUBTRACT)


solid = part.part
